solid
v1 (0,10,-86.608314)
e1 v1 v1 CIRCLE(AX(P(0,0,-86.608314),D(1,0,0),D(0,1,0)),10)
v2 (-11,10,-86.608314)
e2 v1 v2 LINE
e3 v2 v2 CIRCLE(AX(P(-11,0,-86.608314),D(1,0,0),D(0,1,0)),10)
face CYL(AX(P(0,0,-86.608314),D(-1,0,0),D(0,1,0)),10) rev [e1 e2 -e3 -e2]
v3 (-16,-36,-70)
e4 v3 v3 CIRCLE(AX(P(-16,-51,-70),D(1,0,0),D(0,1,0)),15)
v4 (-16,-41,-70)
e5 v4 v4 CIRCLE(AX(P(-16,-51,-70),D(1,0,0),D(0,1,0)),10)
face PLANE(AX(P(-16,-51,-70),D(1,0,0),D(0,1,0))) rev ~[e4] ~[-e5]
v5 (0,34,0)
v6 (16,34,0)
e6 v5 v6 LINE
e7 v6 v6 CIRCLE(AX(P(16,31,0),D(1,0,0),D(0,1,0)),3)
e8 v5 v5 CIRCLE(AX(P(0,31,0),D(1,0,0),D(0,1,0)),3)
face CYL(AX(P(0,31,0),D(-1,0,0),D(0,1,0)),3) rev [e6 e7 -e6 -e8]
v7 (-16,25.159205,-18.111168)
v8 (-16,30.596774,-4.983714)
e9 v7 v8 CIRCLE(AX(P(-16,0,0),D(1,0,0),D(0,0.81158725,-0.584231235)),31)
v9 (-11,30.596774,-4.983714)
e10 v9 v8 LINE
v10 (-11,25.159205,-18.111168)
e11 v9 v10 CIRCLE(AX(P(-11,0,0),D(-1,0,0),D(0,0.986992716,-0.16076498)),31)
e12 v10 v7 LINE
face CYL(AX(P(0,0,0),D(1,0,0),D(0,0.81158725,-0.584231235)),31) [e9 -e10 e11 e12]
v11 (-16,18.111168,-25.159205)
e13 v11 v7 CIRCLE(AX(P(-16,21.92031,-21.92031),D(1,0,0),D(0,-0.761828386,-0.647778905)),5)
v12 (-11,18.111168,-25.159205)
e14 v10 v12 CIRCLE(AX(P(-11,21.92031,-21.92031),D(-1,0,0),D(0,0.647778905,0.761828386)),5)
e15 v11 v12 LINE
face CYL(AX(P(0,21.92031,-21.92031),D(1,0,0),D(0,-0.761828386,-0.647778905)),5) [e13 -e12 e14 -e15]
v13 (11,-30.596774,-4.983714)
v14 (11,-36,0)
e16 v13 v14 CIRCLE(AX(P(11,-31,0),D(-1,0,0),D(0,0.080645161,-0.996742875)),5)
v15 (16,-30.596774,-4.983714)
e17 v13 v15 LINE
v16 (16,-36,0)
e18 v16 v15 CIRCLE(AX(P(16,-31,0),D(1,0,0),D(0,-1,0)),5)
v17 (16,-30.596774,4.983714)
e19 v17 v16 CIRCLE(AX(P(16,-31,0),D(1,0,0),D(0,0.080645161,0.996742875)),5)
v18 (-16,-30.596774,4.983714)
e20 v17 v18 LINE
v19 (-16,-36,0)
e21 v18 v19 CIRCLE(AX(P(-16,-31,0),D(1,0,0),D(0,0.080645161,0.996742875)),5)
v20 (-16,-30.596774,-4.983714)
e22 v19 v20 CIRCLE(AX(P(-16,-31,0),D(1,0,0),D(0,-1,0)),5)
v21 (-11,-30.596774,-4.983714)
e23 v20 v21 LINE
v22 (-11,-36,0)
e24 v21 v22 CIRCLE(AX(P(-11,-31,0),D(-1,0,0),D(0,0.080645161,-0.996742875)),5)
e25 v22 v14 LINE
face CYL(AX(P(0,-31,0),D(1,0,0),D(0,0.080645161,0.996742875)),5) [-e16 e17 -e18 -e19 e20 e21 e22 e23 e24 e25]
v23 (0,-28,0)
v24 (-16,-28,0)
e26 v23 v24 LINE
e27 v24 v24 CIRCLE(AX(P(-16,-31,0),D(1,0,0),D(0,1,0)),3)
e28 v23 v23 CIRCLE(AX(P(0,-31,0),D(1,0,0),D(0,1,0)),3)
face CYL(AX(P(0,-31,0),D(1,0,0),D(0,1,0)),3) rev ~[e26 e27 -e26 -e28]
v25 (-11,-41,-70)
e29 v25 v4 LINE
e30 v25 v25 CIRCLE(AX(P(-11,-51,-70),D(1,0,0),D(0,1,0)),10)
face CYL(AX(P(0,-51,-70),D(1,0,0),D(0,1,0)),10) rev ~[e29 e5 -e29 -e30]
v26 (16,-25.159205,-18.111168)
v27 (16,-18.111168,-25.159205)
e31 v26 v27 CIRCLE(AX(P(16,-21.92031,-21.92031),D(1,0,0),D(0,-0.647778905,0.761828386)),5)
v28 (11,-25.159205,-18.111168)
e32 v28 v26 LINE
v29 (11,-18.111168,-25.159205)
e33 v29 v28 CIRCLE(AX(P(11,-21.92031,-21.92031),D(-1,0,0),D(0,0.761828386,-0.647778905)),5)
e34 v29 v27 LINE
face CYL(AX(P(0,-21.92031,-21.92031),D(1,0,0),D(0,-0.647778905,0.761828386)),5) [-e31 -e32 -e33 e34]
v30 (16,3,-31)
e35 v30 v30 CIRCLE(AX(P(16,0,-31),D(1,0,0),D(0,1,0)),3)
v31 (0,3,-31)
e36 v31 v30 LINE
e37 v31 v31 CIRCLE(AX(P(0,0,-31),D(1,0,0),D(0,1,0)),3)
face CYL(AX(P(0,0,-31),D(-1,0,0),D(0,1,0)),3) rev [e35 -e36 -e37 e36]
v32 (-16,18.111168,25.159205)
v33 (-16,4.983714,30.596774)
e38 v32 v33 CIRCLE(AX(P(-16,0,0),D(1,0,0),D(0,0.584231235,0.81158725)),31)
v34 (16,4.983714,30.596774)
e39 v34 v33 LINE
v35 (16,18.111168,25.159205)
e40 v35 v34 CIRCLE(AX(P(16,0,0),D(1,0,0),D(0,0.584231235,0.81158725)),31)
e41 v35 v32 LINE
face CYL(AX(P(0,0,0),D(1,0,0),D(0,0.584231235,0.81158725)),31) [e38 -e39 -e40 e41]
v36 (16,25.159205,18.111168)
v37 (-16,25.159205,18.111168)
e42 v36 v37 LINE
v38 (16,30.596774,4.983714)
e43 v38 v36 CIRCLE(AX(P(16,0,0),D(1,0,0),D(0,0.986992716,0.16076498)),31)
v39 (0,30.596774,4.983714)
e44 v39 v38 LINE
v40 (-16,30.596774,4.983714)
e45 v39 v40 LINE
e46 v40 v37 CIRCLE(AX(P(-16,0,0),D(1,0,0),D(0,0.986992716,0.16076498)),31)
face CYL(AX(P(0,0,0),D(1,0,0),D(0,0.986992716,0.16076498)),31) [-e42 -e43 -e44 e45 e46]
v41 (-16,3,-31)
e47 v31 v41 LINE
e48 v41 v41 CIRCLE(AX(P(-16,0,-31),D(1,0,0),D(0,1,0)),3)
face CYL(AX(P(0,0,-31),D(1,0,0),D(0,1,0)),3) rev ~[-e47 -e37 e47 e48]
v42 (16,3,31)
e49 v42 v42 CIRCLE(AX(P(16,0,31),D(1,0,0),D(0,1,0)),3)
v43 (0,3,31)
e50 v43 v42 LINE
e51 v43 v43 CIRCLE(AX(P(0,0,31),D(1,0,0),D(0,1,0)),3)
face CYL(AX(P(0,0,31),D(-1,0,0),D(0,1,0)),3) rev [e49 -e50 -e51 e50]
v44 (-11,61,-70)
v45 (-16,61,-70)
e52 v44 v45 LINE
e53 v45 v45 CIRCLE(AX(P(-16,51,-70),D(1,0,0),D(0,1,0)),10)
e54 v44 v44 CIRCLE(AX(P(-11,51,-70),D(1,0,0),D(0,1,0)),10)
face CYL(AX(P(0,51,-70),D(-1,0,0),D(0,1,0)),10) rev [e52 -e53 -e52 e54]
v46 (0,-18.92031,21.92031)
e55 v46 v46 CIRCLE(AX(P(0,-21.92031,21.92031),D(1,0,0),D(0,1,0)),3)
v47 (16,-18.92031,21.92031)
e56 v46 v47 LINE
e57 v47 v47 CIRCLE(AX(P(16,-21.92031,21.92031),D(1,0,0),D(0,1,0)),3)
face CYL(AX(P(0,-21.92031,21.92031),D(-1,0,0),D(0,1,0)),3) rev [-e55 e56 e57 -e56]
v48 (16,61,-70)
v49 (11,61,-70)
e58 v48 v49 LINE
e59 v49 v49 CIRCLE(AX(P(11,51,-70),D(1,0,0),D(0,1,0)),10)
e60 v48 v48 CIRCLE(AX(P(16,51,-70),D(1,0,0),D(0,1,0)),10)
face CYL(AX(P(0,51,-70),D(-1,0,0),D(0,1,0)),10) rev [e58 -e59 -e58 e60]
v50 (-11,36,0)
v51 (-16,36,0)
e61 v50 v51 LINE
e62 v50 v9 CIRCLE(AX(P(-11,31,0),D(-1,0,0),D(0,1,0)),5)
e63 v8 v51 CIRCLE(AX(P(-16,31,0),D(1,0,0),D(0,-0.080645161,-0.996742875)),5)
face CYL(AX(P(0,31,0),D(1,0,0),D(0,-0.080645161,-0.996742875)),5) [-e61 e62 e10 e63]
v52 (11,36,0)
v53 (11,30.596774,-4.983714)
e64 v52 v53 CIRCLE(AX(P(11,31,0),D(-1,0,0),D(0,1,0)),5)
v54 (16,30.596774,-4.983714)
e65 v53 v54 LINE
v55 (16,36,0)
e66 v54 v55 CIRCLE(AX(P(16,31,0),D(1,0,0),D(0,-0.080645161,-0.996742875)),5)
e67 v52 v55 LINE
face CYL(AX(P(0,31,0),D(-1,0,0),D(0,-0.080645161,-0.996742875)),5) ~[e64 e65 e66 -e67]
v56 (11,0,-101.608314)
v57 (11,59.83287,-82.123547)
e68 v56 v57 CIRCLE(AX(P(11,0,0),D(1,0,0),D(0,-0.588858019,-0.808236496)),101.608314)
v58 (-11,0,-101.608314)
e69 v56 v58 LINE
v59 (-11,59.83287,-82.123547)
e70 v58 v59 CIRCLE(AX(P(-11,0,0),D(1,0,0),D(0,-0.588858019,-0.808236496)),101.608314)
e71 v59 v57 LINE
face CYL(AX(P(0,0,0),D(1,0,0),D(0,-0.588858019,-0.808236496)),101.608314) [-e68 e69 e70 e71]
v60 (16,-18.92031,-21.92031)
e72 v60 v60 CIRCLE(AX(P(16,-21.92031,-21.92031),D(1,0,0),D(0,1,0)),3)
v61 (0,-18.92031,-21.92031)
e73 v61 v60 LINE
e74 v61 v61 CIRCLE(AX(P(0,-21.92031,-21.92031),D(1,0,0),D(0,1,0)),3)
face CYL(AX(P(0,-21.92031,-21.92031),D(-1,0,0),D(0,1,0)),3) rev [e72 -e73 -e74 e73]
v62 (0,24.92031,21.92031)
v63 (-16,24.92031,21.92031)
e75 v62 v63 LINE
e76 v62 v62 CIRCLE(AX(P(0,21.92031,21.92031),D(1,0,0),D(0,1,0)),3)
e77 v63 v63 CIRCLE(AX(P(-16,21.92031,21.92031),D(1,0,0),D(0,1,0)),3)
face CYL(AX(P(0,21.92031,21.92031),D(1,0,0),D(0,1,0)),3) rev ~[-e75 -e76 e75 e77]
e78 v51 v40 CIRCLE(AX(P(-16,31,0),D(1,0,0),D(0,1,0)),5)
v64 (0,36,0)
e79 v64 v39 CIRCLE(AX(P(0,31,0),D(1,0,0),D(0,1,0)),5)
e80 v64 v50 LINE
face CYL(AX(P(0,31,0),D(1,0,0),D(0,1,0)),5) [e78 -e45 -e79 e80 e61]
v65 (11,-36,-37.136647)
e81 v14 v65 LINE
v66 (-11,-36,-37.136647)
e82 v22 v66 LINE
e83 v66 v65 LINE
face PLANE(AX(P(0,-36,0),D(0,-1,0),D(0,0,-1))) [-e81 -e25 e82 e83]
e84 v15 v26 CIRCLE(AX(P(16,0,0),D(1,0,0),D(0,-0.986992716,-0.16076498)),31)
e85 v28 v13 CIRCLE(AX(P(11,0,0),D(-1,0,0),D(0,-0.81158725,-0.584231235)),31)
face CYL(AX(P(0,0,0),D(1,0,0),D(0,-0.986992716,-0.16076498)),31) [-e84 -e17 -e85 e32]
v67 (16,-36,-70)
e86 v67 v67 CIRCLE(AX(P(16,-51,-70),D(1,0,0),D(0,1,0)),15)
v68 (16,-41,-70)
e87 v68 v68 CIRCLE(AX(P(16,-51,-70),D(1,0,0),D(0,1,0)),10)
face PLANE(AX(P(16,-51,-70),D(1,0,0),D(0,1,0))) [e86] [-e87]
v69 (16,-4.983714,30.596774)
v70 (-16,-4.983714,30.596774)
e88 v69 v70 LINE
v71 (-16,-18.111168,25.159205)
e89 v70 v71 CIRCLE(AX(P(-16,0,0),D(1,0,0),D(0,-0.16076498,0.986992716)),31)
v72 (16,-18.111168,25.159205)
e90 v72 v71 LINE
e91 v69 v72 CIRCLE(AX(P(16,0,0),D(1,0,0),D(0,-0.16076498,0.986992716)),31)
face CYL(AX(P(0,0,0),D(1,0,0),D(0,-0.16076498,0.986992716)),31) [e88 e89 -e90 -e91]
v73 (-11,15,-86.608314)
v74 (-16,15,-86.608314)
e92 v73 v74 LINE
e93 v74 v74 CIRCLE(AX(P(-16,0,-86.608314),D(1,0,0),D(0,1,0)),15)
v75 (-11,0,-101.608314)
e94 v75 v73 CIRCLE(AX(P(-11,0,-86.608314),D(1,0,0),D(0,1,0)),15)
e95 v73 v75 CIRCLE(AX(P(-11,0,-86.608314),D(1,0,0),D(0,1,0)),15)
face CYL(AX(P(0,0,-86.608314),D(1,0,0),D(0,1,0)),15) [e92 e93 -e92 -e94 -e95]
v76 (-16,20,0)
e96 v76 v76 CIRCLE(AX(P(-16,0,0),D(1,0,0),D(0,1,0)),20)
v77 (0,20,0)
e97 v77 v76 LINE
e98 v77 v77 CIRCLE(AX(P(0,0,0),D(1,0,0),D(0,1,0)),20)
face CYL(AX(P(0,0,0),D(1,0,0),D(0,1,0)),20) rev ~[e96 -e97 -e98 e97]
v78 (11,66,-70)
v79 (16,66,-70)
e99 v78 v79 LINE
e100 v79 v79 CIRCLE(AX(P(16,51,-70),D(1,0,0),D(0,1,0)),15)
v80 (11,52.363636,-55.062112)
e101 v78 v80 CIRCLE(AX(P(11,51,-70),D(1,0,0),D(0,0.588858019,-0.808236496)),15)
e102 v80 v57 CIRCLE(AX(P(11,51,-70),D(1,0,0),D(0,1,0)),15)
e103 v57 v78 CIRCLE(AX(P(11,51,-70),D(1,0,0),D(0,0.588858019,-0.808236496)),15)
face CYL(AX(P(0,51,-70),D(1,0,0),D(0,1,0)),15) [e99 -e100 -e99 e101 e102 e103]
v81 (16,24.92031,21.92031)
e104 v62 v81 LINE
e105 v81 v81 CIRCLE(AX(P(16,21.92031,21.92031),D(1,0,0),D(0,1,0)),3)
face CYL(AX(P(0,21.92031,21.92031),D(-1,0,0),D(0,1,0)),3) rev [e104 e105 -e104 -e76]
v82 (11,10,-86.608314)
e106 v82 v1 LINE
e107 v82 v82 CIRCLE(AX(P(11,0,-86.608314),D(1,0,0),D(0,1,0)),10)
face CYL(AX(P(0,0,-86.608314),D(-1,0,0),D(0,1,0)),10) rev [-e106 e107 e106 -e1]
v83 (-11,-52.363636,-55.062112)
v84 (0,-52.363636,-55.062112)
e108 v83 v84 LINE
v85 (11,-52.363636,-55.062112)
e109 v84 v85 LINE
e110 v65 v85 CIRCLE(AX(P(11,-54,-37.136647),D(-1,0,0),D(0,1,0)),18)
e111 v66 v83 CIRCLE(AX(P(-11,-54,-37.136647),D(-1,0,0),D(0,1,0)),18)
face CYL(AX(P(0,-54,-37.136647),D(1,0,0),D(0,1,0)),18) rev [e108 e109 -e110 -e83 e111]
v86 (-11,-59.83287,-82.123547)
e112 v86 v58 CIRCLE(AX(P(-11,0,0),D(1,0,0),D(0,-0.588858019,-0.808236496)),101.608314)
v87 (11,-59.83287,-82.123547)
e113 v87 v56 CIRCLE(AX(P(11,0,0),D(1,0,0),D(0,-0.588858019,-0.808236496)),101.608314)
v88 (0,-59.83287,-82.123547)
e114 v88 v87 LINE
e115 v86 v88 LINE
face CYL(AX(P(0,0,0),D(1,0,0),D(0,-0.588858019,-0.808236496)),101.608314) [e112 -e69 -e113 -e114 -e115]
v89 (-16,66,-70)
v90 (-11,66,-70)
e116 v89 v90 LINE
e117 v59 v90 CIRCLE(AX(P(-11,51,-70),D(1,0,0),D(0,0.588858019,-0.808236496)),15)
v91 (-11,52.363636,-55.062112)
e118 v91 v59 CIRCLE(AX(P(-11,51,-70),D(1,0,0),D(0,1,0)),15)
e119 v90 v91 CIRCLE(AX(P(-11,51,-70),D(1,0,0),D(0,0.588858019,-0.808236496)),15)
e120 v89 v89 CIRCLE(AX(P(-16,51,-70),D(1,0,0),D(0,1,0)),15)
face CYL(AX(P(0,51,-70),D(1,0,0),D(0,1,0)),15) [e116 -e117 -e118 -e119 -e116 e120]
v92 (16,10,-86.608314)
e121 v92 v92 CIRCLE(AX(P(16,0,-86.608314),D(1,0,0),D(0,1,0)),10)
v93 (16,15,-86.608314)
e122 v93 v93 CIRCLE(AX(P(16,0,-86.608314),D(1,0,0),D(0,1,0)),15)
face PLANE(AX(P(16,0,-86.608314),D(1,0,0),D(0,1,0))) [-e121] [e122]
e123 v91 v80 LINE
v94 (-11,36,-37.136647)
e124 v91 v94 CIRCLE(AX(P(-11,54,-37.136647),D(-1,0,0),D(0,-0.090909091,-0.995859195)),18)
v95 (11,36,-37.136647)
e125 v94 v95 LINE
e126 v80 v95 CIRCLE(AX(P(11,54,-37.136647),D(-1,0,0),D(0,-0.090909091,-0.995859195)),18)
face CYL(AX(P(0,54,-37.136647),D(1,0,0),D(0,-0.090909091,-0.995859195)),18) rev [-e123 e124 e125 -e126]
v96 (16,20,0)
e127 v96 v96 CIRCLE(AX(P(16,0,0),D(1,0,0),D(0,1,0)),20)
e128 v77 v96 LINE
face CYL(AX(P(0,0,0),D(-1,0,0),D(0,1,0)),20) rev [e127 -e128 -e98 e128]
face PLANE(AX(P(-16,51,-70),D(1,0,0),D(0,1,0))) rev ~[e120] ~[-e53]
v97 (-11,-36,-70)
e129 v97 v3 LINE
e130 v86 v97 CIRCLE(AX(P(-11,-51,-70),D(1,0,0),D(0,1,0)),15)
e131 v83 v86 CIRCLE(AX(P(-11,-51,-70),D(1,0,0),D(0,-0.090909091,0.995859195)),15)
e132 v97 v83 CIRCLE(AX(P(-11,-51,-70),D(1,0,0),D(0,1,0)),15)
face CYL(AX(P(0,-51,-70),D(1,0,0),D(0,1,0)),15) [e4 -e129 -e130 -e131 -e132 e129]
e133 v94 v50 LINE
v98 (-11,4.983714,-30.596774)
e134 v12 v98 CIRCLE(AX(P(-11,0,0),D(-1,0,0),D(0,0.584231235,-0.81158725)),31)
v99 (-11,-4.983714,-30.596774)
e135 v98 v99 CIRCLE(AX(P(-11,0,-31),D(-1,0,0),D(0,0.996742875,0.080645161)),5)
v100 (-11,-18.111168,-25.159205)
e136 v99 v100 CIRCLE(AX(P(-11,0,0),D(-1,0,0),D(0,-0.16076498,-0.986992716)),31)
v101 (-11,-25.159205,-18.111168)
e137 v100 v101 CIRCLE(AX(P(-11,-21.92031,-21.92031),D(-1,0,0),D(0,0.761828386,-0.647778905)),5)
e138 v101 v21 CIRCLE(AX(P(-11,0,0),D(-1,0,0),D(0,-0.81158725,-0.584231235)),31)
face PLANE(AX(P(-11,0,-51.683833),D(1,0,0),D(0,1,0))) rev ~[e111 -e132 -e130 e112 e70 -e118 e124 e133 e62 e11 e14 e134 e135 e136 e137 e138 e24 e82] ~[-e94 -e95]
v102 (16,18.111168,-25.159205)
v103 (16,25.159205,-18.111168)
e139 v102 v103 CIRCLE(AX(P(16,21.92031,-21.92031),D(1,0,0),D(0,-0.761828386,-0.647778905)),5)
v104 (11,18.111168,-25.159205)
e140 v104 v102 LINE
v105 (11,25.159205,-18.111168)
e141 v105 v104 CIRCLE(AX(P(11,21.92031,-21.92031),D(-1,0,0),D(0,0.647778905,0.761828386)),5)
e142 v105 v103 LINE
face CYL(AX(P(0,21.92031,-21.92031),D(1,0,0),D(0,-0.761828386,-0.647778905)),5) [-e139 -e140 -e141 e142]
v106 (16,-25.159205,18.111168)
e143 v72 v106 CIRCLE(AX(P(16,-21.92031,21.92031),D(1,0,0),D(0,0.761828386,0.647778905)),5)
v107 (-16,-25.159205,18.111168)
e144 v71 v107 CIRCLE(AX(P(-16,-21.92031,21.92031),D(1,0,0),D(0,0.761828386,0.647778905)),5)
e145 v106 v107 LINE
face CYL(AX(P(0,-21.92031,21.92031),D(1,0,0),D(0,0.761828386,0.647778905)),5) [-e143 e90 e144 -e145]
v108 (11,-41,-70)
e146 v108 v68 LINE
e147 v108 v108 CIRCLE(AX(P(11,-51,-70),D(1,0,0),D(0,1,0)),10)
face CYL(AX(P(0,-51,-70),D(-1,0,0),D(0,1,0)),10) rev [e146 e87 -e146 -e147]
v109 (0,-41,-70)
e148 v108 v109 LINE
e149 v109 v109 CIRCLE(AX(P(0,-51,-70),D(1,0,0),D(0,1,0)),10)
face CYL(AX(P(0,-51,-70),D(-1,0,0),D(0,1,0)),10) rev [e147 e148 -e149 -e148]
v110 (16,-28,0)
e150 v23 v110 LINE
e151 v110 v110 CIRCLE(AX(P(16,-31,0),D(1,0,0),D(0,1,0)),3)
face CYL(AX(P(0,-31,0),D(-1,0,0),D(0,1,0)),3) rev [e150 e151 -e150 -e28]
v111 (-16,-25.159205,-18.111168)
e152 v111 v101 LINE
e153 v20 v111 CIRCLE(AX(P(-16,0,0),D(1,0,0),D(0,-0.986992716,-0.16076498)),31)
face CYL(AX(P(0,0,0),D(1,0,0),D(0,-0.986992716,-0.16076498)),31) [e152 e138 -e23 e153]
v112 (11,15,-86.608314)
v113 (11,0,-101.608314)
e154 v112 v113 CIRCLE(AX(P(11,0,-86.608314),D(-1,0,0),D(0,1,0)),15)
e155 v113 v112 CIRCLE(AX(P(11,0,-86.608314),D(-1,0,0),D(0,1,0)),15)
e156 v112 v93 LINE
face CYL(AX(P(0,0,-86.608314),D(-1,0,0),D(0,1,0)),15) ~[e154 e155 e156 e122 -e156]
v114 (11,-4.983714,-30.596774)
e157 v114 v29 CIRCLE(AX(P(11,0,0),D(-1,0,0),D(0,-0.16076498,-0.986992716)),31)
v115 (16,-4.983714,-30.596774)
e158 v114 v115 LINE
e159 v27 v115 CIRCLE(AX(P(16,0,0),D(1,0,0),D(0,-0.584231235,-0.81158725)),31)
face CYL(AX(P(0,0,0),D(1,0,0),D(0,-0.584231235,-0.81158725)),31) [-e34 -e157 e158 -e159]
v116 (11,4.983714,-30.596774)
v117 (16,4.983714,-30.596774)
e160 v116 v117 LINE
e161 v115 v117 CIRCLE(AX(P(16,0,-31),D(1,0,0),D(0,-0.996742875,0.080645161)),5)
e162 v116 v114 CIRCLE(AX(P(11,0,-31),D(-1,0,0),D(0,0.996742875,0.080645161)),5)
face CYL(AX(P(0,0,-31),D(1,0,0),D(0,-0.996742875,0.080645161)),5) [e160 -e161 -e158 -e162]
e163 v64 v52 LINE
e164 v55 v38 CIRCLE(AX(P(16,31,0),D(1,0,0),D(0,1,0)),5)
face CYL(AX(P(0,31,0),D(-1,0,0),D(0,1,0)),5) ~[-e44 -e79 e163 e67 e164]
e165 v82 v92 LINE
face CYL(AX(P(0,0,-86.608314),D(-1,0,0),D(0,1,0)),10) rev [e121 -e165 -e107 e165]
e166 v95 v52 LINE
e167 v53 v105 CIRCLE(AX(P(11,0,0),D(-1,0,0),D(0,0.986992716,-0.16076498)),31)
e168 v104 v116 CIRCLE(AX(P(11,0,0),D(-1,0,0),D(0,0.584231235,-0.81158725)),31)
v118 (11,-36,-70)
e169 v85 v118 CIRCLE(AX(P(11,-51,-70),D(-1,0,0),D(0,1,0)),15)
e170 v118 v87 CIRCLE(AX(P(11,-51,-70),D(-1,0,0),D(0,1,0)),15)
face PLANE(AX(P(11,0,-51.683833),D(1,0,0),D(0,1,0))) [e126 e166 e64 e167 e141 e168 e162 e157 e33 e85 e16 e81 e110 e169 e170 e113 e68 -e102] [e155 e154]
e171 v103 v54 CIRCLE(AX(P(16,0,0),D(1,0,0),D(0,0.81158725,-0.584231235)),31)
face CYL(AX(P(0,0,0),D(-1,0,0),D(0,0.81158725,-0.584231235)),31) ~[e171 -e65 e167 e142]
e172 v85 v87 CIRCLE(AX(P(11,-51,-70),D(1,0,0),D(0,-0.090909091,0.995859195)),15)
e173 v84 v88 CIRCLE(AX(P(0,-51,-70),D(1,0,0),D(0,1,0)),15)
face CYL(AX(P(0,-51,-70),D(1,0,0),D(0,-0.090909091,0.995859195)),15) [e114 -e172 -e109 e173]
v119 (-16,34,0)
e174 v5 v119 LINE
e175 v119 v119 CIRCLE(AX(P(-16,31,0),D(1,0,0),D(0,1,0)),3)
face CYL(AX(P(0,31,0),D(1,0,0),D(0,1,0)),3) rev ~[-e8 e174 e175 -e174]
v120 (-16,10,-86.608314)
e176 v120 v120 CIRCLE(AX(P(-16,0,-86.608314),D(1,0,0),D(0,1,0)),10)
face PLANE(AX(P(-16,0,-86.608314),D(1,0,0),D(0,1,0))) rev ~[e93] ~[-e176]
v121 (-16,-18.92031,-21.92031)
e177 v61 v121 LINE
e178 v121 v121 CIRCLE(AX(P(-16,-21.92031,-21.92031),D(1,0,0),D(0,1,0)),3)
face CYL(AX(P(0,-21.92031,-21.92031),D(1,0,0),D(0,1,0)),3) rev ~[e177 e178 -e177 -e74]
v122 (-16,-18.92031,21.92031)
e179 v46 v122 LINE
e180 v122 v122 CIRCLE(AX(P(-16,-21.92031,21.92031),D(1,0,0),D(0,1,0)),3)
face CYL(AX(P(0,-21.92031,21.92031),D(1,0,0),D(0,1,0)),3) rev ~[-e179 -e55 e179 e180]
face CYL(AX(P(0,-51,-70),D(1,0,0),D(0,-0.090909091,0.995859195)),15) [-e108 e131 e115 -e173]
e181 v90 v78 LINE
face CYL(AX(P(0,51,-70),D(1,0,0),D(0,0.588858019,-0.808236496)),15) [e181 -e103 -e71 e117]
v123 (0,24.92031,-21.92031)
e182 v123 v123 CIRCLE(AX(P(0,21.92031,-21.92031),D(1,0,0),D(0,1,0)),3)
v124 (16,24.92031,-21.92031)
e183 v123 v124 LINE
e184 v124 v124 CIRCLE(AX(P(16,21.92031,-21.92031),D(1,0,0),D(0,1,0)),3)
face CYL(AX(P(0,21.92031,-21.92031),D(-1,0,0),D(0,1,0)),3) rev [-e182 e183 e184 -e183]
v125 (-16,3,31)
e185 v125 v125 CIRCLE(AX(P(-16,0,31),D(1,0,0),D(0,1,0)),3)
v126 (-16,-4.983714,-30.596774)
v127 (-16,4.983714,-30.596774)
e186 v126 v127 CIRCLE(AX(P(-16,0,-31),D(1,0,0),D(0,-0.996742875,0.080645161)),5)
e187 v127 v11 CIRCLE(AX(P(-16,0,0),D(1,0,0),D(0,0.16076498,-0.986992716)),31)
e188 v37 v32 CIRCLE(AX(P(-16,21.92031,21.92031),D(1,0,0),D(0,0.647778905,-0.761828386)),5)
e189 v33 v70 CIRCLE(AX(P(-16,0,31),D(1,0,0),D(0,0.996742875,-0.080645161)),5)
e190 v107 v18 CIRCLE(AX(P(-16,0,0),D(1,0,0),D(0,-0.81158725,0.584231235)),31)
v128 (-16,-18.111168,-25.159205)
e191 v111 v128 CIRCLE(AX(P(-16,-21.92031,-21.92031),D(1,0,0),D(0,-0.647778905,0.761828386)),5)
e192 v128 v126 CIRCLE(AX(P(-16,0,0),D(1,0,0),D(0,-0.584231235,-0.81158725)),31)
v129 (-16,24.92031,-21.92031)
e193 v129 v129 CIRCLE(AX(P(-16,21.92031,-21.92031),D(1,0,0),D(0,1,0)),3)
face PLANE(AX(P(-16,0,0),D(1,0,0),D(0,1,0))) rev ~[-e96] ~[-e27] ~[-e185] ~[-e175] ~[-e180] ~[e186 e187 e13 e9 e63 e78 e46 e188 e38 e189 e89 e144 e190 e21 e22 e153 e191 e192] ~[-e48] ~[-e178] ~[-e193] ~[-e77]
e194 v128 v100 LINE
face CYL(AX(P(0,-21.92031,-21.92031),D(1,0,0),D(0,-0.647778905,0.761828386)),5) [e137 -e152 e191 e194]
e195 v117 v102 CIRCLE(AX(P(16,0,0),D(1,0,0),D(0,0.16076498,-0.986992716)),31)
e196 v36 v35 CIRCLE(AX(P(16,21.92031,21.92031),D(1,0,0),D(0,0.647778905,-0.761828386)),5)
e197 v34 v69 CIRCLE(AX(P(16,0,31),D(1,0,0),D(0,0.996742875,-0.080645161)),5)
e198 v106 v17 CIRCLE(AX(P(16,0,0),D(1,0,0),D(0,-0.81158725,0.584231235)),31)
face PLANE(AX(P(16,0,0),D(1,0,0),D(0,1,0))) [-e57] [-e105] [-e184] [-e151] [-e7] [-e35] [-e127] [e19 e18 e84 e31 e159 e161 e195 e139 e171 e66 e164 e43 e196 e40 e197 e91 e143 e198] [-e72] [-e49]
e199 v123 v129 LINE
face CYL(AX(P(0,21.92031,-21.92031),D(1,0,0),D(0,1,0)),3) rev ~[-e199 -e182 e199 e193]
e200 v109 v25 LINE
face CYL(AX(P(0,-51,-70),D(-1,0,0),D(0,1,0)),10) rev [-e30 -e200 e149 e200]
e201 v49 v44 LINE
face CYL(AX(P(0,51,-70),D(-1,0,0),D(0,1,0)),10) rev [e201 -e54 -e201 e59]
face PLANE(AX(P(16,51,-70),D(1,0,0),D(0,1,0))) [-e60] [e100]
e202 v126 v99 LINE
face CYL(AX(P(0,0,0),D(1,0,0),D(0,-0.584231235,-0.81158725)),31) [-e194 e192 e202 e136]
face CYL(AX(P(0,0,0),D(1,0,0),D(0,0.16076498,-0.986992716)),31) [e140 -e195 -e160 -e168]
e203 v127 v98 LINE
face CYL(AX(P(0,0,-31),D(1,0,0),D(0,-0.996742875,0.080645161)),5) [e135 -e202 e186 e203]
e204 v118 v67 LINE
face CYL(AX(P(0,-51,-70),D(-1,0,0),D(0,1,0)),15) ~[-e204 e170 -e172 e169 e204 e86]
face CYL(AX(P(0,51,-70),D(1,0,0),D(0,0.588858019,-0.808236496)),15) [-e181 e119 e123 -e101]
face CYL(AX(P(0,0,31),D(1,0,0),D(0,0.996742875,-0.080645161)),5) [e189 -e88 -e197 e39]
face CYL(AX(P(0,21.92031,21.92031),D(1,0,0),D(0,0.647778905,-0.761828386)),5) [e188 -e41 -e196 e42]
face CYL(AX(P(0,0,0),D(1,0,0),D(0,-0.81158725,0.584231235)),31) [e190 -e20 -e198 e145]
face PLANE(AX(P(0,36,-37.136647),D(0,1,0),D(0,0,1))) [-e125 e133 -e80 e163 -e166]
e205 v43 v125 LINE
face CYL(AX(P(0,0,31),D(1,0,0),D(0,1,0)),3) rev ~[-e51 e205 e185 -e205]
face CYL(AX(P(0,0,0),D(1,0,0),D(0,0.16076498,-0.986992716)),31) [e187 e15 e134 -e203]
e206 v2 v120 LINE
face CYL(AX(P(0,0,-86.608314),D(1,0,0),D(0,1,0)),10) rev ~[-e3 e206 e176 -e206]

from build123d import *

# Parameters (mm, degrees)
SKETCH1_R            = 3
SKETCH1_R_2          = 20
BOSS_EXTRUDE2_DEPTH  = 16
SKETCH1_9_R          = 10
BOSS_EXTRUDE13_DEPTH = 11
SKETCH5_R            = 15
SKETCH5_R_2          = 10
BOSS_EXTRUDE14_DEPTH = 16


with BuildPart() as part:
    # Sketch1 → Boss-Extrude2 (new, symmetric)
    with BuildSketch(Plane.YZ):
        with BuildLine():
            ThreePointArc((-30.596774194, 4.983714373), (-34.389975735, 3.675331892), (-36, 0))
            ThreePointArc((-36, 0), (-34.389975735, -3.675331892), (-30.596774194, -4.983714373))
            ThreePointArc((-30.596774194, -4.983714373), (-28.640265508, -11.863186403), (-25.159204743, -18.111168286))
            ThreePointArc((-25.159204743, -18.111168286), (-25.455844123, -25.455844123), (-18.111168286, -25.159204743))
            ThreePointArc((-18.111168286, -25.159204743), (-11.863186403, -28.640265508), (-4.983714373, -30.596774194))
            ThreePointArc((-4.983714373, -30.596774194), (0, -36), (4.983714373, -30.596774194))
            ThreePointArc((4.983714373, -30.596774194), (11.863186403, -28.640265508), (18.111168286, -25.159204743))
            ThreePointArc((18.111168286, -25.159204743), (25.455844123, -25.455844123), (25.159204743, -18.111168286))
            ThreePointArc((25.159204743, -18.111168286), (28.640265508, -11.863186403), (30.596774194, -4.983714373))
            ThreePointArc((30.596774194, -4.983714373), (34.389975735, -3.675331892), (36, 0))
            ThreePointArc((36, 0), (34.389975735, 3.675331892), (30.596774194, 4.983714373))
            ThreePointArc((30.596774194, 4.983714373), (28.640265508, 11.863186403), (25.159204743, 18.111168286))
            ThreePointArc((25.159204743, 18.111168286), (25.455844123, 25.455844123), (18.111168286, 25.159204743))
            ThreePointArc((18.111168286, 25.159204743), (11.863186403, 28.640265508), (4.983714373, 30.596774194))
            ThreePointArc((4.983714373, 30.596774194), (0, 36), (-4.983714373, 30.596774194))
            ThreePointArc((-4.983714373, 30.596774194), (-11.863186403, 28.640265508), (-18.111168286, 25.159204743))
            ThreePointArc((-18.111168286, 25.159204743), (-25.455844123, 25.455844123), (-25.159204743, 18.111168286))
            ThreePointArc((-25.159204743, 18.111168286), (-28.640265508, 11.863186403), (-30.596774194, 4.983714373))
        make_face()
        with Locations((-21.920310217, -21.920310217)):
            Circle(SKETCH1_R, mode=Mode.SUBTRACT)
        with Locations((0, -31)):
            Circle(SKETCH1_R, mode=Mode.SUBTRACT)
        with Locations((-31, 0)):
            Circle(SKETCH1_R, mode=Mode.SUBTRACT)
        Circle(SKETCH1_R_2, mode=Mode.SUBTRACT)
        with Locations((-21.920310217, 21.920310217)):
            Circle(SKETCH1_R, mode=Mode.SUBTRACT)
        with Locations((0, 31)):
            Circle(SKETCH1_R, mode=Mode.SUBTRACT)
        with Locations((21.920310217, -21.920310217)):
            Circle(SKETCH1_R, mode=Mode.SUBTRACT)
        with Locations((31, 0)):
            Circle(SKETCH1_R, mode=Mode.SUBTRACT)
        with Locations((21.920310217, 21.920310217)):
            Circle(SKETCH1_R, mode=Mode.SUBTRACT)
    extrude(amount=BOSS_EXTRUDE2_DEPTH, both=True)

    # Sketch1<9> → Boss-Extrude13 (add, symmetric)
    with BuildSketch(Plane.YZ):
        with BuildLine():
            ThreePointArc((-30.596774194, -4.983714373), (-34.389975735, -3.675331892), (-36, 0))
            Line((-36, 0), (-36, -37.13664655))
            ThreePointArc((-36, -37.13664655), (-40.706118974, -49.272244074), (-52.363636364, -55.062112068))
            ThreePointArc((-52.363636364, -55.062112068), (-65.459339822, -66.009073802), (-59.83287028, -82.123547443))
            ThreePointArc((-59.83287028, -82.123547443), (0, -101.608313689), (59.83287028, -82.123547443))
            ThreePointArc((59.83287028, -82.123547443), (65.459339822, -66.009073802), (52.363636364, -55.062112068))
            ThreePointArc((52.363636364, -55.062112068), (40.706118974, -49.272244074), (36, -37.13664655))
            Line((36, -37.13664655), (36, 0))
            ThreePointArc((36, 0), (34.389975735, -3.675331892), (30.596774194, -4.983714373))
            ThreePointArc((30.596774194, -4.983714373), (28.640265508, -11.863186403), (25.159204743, -18.111168286))
            ThreePointArc((25.159204743, -18.111168286), (25.455844123, -25.455844123), (18.111168286, -25.159204743))
            ThreePointArc((18.111168286, -25.159204743), (11.863186403, -28.640265508), (4.983714373, -30.596774194))
            ThreePointArc((4.983714373, -30.596774194), (0, -36), (-4.983714373, -30.596774194))
            ThreePointArc((-4.983714373, -30.596774194), (-11.863186403, -28.640265508), (-18.111168286, -25.159204743))
            ThreePointArc((-18.111168286, -25.159204743), (-25.455844123, -25.455844123), (-25.159204743, -18.111168286))
            ThreePointArc((-25.159204743, -18.111168286), (-28.640265508, -11.863186403), (-30.596774194, -4.983714373))
        make_face()
        with Locations((-51, -70)):
            Circle(SKETCH1_9_R, mode=Mode.SUBTRACT)
        with Locations((0, -86.608313689)):
            Circle(SKETCH1_9_R, mode=Mode.SUBTRACT)
        with Locations((51, -70)):
            Circle(SKETCH1_9_R, mode=Mode.SUBTRACT)
    extrude(amount=BOSS_EXTRUDE13_DEPTH, both=True)

    # Sketch5 → Boss-Extrude14 (add, symmetric)
    # profile 1 of 3: a face of its own
    with BuildSketch(Plane.YZ):
        with Locations((0, -86.608313689)):
            Circle(SKETCH5_R)
        with Locations((0, -86.608313689)):
            Circle(SKETCH5_R_2, mode=Mode.SUBTRACT)
    # profile 2 of 3: a face of its own
    with BuildSketch(Plane.YZ):
        with Locations((-51, -70)):
            Circle(SKETCH5_R)
        with Locations((-51, -70)):
            Circle(SKETCH5_R_2, mode=Mode.SUBTRACT)
    # profile 3 of 3: a face of its own
    with BuildSketch(Plane.YZ):
        with Locations((51, -70)):
            Circle(SKETCH5_R)
        with Locations((51, -70)):
            Circle(SKETCH5_R_2, mode=Mode.SUBTRACT)
    extrude(amount=BOSS_EXTRUDE14_DEPTH, both=True)


solid = part.part
